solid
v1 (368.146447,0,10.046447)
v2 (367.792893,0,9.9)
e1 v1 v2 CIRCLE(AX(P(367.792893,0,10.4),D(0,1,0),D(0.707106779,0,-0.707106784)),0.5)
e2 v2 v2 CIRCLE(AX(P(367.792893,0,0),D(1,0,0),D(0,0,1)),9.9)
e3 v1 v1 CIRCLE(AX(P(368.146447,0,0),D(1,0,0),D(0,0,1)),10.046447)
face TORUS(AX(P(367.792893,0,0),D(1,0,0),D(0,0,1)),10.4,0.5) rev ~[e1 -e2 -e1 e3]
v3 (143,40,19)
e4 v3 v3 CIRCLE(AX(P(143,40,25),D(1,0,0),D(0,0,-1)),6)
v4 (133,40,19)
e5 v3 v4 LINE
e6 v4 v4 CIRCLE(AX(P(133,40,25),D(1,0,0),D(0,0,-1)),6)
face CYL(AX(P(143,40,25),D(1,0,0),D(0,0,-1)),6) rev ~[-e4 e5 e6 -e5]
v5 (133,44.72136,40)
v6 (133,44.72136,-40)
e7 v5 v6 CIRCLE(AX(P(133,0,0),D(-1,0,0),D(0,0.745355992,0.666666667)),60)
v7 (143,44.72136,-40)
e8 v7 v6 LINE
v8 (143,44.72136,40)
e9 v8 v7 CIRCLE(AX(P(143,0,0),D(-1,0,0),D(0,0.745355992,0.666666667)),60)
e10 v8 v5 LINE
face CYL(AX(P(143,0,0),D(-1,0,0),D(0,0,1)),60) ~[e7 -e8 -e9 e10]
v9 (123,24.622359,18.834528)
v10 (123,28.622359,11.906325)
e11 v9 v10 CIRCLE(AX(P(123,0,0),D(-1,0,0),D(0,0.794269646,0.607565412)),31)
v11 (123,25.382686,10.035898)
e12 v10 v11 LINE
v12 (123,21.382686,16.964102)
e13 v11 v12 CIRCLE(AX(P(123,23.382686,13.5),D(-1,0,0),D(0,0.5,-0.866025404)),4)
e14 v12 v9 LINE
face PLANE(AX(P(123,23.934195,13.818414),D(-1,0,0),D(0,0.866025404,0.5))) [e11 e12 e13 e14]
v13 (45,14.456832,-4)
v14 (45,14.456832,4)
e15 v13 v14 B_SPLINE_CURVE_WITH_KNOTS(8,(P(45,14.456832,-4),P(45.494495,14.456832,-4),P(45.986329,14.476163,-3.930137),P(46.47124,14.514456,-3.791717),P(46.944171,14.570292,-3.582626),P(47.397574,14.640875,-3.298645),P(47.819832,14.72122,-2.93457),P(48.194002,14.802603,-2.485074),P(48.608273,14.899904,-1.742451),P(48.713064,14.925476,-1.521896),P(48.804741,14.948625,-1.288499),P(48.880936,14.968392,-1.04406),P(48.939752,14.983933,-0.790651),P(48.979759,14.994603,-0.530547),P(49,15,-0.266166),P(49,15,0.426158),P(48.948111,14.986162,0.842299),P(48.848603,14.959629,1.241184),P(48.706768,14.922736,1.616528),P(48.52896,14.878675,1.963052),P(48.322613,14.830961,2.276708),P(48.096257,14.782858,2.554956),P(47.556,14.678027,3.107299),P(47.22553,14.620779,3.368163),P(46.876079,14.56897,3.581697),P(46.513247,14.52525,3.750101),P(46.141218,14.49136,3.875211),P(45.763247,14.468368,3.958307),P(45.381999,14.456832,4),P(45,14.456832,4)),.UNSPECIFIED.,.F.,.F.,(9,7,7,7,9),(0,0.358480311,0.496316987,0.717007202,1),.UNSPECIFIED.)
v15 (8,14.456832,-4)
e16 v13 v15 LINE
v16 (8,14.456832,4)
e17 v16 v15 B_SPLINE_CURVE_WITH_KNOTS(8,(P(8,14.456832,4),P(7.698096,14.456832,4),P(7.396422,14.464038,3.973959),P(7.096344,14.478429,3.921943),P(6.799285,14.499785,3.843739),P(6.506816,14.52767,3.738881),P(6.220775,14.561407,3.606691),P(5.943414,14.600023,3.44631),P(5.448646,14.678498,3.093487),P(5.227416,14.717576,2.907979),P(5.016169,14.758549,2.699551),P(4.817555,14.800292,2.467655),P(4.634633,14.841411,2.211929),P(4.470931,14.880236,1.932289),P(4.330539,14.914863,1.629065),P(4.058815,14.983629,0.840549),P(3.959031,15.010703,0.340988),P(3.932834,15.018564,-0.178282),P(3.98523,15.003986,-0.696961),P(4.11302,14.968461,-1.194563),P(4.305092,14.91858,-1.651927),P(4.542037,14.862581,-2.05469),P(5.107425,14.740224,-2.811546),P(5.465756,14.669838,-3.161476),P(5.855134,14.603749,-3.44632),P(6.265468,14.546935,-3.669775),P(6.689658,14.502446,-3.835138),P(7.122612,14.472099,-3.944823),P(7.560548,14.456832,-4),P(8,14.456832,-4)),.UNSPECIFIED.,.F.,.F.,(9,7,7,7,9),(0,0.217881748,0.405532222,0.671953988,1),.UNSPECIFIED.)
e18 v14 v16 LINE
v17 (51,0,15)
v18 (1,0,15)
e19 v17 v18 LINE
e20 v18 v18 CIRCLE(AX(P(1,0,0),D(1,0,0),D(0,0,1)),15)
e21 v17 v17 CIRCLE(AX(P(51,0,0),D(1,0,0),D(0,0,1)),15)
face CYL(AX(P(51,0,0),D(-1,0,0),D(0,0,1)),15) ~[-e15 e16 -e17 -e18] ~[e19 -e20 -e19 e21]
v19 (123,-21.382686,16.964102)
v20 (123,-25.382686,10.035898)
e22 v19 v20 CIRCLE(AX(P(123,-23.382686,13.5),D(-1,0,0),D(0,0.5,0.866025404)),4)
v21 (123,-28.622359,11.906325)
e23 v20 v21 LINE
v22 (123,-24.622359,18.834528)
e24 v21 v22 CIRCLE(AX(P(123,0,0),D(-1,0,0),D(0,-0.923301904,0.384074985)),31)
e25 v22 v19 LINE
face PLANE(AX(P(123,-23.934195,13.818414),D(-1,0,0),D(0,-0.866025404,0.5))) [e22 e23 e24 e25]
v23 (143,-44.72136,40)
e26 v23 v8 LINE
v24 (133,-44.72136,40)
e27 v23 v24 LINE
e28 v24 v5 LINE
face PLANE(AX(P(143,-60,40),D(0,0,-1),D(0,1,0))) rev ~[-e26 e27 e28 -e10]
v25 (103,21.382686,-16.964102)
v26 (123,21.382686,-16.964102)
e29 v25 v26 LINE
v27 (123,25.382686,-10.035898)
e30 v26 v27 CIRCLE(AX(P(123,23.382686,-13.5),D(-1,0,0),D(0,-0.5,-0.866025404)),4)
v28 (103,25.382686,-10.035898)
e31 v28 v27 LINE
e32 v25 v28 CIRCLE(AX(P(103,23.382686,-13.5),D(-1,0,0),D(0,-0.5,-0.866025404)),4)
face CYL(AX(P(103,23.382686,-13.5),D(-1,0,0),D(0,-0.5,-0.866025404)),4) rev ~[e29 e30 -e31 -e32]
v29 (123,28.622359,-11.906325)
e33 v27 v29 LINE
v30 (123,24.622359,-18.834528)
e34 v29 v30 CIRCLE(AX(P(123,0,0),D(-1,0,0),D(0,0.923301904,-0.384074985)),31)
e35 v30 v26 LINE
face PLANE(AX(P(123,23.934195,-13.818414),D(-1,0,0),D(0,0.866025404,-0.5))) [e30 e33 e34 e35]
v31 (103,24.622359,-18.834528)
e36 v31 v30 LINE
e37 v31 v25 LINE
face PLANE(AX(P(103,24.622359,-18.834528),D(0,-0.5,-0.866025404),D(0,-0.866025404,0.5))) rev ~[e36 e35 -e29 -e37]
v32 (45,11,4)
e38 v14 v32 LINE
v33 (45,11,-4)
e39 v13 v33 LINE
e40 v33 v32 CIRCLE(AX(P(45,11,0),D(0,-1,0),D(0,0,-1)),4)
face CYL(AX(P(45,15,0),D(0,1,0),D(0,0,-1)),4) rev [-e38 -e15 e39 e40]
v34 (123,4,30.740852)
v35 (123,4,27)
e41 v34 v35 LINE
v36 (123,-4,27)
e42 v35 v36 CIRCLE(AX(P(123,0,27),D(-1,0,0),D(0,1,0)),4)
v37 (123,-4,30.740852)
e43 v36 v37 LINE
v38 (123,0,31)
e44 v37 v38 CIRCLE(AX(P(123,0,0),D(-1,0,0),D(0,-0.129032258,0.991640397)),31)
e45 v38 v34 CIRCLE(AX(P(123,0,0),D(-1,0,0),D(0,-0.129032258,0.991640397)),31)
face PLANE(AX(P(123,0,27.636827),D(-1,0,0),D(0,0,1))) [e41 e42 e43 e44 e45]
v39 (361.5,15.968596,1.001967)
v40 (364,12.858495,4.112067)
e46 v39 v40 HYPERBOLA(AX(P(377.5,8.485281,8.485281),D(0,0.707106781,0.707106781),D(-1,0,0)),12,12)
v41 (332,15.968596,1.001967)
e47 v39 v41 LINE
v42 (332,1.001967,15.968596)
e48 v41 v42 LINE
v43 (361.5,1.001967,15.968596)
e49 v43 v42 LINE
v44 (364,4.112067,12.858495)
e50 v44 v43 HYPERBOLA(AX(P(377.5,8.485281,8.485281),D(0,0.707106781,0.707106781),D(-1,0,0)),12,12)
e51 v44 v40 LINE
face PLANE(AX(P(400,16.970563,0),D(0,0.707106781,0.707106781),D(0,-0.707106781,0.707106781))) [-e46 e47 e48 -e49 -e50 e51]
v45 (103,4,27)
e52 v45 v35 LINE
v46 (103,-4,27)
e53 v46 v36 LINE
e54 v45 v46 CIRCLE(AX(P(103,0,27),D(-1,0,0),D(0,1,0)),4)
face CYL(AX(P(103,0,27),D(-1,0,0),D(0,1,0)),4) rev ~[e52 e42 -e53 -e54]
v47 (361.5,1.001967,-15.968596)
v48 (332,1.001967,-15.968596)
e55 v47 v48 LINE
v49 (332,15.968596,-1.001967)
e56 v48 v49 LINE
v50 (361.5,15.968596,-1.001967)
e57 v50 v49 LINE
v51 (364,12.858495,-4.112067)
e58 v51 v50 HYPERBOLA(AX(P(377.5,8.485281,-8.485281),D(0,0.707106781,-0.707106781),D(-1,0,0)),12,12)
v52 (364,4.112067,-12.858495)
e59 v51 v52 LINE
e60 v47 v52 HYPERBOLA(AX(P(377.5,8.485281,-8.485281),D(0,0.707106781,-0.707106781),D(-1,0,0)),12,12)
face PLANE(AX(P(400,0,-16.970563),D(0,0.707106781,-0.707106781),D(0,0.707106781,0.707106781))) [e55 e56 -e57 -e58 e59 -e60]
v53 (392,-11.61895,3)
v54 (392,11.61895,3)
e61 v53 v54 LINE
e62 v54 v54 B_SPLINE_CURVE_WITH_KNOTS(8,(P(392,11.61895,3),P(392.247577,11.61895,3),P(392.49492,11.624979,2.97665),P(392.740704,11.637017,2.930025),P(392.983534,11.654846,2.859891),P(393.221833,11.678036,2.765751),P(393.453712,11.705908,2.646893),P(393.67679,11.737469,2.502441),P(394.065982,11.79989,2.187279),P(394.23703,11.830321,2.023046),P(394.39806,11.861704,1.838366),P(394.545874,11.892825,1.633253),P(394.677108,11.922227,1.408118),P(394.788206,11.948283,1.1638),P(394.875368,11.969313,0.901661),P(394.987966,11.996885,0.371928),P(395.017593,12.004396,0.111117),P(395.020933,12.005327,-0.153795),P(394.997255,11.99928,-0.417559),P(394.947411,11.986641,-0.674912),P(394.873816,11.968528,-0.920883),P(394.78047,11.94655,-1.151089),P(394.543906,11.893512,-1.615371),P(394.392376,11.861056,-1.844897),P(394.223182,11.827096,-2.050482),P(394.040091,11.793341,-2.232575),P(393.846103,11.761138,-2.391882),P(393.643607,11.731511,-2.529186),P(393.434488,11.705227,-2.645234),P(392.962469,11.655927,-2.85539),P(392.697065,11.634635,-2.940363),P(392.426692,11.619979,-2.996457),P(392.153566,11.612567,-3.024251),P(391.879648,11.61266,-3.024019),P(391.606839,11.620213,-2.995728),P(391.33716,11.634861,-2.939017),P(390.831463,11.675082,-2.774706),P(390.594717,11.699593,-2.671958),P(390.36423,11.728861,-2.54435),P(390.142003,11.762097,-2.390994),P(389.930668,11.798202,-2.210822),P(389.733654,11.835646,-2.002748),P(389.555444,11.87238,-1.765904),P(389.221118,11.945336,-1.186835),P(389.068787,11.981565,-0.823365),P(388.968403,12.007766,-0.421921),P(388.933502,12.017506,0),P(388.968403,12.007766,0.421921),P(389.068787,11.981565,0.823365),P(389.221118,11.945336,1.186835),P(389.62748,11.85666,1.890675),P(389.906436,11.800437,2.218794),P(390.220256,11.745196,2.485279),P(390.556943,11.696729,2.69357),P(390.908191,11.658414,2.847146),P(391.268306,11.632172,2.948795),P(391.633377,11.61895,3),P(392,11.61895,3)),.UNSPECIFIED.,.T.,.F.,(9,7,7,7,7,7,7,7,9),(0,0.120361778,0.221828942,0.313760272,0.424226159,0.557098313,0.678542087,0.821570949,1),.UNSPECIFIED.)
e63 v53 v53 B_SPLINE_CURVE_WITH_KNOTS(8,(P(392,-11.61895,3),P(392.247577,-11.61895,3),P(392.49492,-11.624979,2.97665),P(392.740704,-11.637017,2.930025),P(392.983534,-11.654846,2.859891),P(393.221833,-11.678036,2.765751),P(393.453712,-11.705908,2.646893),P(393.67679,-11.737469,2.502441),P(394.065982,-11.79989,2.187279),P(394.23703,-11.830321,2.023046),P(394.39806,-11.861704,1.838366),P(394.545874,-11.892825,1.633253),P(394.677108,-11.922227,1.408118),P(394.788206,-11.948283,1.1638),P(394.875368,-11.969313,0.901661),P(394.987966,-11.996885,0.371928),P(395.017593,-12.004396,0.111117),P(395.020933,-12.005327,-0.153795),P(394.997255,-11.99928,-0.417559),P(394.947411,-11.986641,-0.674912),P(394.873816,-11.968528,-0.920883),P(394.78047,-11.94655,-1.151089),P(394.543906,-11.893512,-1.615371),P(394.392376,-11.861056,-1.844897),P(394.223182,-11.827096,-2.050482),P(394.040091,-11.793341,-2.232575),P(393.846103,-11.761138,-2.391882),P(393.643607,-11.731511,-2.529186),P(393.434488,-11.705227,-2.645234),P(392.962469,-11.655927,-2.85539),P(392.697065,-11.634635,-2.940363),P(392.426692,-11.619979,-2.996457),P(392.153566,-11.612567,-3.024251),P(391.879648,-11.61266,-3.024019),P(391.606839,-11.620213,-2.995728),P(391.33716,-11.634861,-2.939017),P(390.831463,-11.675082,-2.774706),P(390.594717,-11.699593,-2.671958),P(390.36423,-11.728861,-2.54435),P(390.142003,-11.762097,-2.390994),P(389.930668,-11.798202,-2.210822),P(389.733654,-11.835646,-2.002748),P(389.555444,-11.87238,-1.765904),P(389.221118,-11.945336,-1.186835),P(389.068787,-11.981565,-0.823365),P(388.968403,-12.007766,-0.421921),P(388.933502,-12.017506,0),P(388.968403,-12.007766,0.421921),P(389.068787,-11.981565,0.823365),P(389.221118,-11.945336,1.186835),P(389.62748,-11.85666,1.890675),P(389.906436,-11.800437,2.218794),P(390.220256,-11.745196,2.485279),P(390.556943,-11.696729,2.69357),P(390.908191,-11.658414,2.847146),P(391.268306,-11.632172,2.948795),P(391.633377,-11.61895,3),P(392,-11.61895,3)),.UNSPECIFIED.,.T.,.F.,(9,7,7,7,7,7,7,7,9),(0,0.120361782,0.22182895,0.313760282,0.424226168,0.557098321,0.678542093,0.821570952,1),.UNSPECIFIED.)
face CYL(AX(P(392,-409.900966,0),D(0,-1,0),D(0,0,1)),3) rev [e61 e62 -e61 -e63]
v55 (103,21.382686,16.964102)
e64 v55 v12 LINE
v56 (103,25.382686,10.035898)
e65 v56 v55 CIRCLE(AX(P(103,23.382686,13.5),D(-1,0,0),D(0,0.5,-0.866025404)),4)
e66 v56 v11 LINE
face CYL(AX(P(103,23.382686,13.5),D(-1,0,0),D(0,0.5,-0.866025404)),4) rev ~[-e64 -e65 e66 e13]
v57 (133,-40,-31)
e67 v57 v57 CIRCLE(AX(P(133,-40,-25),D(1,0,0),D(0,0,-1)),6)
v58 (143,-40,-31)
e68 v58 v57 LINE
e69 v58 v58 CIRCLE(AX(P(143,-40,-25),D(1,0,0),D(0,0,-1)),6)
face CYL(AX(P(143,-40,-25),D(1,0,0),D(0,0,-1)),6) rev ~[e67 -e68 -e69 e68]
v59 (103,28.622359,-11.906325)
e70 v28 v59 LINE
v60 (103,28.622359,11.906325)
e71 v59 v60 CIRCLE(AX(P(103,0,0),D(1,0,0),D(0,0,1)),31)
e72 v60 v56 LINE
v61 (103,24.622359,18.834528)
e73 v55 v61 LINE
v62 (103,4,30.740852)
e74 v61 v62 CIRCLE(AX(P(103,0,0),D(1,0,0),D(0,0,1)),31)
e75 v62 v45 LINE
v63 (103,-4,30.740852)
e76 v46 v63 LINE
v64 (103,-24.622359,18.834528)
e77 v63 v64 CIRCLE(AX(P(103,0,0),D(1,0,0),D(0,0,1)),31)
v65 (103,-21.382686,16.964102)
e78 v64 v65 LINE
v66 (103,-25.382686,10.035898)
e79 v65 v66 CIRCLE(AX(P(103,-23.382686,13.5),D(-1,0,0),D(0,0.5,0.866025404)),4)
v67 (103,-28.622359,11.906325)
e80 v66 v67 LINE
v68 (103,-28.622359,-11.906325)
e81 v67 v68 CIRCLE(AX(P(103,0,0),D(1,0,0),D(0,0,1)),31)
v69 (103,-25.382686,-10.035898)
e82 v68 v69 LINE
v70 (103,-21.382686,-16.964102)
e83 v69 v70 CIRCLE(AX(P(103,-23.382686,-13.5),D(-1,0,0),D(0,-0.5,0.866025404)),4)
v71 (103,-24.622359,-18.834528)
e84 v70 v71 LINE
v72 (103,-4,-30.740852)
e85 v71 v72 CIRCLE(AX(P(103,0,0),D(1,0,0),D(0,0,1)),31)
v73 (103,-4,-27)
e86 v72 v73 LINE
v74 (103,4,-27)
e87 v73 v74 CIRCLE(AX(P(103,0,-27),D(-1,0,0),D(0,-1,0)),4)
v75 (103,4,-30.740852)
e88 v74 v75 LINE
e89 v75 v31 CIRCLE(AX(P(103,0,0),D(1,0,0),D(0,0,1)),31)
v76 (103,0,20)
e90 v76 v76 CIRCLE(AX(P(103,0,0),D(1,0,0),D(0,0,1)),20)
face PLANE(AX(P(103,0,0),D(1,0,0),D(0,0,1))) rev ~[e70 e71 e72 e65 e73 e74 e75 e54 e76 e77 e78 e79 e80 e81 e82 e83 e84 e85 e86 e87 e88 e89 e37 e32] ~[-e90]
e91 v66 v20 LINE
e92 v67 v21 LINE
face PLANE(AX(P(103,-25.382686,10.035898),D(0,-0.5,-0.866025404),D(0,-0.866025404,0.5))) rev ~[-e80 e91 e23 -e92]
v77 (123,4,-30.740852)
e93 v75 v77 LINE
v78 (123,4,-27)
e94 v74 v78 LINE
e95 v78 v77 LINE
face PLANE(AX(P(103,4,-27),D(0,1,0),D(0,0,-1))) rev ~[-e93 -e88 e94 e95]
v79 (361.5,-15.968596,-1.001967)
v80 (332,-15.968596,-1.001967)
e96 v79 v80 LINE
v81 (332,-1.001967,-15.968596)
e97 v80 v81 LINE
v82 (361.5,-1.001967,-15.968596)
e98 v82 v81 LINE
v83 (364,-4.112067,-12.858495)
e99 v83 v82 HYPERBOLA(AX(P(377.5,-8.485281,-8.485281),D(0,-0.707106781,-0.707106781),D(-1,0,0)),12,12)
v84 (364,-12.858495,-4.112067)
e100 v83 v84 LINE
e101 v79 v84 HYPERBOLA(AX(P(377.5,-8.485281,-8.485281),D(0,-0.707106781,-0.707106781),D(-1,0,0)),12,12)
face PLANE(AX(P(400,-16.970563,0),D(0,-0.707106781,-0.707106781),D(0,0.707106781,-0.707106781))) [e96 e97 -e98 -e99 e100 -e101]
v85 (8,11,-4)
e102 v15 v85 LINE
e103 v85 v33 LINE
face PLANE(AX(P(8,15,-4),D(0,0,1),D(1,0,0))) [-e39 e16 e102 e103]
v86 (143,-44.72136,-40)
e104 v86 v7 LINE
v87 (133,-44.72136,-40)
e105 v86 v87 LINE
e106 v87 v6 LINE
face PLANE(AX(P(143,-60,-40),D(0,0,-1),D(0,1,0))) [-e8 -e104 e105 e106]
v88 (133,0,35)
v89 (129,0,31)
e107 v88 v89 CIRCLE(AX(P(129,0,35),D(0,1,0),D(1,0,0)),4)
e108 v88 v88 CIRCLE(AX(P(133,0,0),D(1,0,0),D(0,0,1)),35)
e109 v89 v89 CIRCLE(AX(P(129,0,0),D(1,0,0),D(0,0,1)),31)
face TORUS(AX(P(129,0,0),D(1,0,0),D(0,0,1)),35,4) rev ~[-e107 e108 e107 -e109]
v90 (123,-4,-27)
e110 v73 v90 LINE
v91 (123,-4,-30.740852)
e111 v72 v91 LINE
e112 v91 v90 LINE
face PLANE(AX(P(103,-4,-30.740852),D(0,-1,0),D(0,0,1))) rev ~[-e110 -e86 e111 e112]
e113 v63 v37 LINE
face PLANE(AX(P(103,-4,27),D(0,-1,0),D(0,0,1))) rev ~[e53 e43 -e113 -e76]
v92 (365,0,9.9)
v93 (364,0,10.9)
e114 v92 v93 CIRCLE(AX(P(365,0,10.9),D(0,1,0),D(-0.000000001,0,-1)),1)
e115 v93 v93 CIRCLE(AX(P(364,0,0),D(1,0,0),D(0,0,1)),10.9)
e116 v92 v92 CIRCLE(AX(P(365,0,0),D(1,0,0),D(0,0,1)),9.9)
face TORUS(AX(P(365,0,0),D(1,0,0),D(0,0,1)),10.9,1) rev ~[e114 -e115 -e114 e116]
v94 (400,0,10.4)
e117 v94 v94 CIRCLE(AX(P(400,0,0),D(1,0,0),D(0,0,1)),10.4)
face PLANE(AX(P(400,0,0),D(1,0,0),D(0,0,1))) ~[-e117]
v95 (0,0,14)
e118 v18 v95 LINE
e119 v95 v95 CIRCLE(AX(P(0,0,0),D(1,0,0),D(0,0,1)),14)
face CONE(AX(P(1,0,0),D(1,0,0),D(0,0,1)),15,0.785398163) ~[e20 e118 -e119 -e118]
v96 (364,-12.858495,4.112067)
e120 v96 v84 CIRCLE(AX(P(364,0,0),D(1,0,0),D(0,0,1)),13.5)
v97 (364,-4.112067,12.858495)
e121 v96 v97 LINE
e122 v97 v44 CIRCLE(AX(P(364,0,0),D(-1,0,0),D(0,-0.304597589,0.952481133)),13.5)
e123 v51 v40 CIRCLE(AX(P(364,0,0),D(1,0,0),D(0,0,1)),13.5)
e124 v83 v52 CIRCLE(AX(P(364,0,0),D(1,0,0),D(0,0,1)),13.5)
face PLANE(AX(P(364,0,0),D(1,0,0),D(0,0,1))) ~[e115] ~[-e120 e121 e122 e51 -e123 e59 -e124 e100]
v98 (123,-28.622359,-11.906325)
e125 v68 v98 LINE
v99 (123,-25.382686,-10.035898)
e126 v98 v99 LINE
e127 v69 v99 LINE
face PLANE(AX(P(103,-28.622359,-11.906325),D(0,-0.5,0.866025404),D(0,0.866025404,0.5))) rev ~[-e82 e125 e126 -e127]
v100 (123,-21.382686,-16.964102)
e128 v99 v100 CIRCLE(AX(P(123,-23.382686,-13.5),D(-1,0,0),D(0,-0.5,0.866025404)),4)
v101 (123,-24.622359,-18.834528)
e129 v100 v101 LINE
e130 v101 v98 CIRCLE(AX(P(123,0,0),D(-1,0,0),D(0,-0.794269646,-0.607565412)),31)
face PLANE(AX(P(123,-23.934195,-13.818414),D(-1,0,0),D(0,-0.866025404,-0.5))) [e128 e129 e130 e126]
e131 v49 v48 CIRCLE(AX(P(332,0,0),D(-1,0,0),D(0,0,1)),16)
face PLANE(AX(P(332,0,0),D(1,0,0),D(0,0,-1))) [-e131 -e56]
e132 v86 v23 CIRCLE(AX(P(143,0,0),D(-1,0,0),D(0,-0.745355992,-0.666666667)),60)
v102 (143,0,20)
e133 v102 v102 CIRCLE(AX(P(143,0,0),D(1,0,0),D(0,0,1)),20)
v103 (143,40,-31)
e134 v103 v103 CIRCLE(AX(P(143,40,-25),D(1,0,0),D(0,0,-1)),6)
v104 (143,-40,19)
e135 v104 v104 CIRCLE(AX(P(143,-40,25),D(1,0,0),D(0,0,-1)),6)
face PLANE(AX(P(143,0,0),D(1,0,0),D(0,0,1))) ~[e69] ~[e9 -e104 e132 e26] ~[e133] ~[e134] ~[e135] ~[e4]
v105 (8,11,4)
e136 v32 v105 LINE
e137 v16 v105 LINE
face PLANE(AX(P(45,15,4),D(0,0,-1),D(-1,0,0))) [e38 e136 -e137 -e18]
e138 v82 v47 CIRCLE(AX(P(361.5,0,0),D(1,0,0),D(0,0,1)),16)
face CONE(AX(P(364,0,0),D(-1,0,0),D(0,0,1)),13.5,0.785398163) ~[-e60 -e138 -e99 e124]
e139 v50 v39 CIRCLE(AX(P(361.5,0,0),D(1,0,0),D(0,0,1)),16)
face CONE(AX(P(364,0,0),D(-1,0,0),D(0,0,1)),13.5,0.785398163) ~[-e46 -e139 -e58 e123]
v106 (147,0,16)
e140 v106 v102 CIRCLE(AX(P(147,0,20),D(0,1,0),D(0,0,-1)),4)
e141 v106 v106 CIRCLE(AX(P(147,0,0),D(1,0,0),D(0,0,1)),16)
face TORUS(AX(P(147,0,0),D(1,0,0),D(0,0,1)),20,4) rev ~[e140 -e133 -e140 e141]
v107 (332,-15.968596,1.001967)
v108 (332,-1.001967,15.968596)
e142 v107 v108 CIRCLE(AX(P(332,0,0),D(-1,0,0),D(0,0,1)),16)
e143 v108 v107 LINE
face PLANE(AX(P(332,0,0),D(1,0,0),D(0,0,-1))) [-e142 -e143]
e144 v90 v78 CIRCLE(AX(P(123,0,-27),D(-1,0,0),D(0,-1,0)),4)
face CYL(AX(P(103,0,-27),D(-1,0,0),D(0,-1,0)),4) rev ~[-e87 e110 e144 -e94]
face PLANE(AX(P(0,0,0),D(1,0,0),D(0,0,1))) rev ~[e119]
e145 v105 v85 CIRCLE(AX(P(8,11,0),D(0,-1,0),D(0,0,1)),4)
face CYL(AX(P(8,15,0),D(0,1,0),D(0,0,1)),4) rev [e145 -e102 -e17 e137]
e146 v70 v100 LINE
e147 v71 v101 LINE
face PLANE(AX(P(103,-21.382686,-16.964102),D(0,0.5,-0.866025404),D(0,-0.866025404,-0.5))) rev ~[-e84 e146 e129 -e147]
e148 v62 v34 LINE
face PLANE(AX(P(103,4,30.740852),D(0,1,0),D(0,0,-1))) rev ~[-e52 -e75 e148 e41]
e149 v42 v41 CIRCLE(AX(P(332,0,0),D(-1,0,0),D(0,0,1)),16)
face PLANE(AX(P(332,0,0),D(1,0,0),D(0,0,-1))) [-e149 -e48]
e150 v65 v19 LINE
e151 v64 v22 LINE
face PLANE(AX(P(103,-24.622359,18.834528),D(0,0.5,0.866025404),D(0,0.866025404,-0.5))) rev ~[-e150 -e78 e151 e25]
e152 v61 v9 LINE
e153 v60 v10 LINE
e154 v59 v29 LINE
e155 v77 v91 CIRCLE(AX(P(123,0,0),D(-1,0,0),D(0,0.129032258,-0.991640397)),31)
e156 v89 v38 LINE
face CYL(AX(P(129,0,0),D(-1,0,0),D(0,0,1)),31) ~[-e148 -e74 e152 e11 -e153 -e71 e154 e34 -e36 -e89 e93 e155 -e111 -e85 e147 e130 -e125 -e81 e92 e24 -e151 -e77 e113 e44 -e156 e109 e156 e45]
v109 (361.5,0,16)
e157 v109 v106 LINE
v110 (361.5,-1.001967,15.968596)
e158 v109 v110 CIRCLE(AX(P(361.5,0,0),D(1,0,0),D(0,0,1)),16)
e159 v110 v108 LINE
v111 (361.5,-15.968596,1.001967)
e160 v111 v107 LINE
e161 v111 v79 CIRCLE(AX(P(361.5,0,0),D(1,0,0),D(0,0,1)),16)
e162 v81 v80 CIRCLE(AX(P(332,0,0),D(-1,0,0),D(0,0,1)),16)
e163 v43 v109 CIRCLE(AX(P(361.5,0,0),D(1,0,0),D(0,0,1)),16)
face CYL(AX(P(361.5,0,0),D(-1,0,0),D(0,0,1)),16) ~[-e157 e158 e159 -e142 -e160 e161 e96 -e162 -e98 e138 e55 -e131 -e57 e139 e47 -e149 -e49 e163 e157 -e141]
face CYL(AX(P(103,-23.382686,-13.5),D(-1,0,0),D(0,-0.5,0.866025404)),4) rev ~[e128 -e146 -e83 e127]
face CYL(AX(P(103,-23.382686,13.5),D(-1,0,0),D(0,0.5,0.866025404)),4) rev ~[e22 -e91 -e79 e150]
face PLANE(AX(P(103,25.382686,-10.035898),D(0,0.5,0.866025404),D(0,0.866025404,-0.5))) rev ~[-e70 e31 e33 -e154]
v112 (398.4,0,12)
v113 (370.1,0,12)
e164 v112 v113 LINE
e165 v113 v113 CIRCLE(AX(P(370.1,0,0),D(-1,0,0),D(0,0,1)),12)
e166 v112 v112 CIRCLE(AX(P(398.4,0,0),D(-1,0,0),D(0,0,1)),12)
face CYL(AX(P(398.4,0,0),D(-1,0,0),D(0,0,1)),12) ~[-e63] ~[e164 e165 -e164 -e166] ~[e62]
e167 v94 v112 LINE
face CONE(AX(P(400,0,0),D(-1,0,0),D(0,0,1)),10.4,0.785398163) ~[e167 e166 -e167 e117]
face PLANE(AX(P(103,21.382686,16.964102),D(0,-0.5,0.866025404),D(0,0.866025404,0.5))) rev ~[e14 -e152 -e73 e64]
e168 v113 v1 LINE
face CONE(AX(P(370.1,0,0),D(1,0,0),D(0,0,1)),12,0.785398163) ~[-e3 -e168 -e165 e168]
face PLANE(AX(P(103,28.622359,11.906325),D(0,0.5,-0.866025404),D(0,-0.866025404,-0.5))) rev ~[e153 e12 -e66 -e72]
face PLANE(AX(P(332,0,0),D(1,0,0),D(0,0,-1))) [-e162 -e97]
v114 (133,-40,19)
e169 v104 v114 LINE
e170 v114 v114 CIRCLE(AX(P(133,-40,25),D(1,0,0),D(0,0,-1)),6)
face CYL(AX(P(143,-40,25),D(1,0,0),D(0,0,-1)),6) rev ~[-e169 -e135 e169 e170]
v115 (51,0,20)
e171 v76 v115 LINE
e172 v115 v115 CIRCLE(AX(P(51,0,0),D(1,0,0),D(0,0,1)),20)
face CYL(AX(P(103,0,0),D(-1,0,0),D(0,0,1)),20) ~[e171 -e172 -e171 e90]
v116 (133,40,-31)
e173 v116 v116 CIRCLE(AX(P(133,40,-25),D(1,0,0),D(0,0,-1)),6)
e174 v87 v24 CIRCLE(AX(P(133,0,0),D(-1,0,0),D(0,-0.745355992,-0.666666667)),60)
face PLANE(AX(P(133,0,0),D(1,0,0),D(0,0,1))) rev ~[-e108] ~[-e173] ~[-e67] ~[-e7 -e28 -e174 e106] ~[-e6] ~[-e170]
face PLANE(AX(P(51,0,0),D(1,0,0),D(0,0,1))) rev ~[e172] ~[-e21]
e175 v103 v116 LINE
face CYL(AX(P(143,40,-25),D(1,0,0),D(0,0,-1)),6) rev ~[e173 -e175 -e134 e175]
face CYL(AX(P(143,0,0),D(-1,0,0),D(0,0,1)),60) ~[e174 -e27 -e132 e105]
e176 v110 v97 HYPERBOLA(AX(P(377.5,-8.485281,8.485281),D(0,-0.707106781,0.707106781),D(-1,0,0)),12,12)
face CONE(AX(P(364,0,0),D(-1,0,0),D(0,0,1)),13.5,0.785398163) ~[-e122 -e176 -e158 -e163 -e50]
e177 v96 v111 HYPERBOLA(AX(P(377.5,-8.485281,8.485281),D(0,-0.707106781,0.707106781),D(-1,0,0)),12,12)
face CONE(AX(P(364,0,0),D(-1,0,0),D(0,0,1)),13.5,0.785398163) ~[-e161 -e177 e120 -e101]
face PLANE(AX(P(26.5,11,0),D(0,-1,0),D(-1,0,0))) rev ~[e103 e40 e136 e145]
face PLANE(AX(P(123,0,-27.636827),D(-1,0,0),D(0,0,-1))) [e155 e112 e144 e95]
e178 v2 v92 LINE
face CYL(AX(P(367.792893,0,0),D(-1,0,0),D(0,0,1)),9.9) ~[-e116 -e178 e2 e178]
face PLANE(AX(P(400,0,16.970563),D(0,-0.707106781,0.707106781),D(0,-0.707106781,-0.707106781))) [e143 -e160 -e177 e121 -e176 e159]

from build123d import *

# Parameters (mm, degrees)
SKETCH_2_OUTSIDE_W       = 208.902
SKETCH_2_OUTSIDE_H       = 208.902
CUT_EXTRUDE_1_DEPTH      = 68
CUT_EXTRUDE_2_DEPTH      = 4
CUT_EXTRUDE_4_DEPTH      = 409.900966005
CUT_EXTRUDE_4_DEPTH_BACK = 409.900966005
SKETCH_6_R               = 3
SKETCH_7_R               = 6
CUT_EXTRUDE_5_DEPTH      = 271.645524626
SKETCH_8_OUTSIDE_W       = 208.902
SKETCH_8_OUTSIDE_H       = 208.902
SKETCH_8_OUTSIDE_W_2     = 80
SKETCH_8_OUTSIDE_H_2     = 120
CUT_EXTRUDE_6_DEPTH      = 271.645524626
CUT_EXTRUDE_3_DEPTH      = 20
PATTERN_CIRCULAR_1_COUNT = 6


with BuildPart() as part:
    # Эскиз1 → Повернуть1 (revolve)
    with BuildSketch(Plane.XY, mode=Mode.PRIVATE) as revolve_1_sk:
        with BuildLine():
            Line((129, 31), (103, 31))
            Line((103, 31), (103, 20))
            Line((103, 20), (51, 20))
            Line((51, 20), (51, 15))
            Line((51, 15), (1, 15))
            Line((1, 15), (0, 14))
            Line((0, 14), (0, 0))
            Line((0, 0), (400, 0))
            Line((400, 0), (400, 10.4))
            Line((400, 10.4), (398.4, 12))
            Line((398.4, 12), (370.1, 12))
            Line((370.1, 12), (368.146446609, 10.046446609))
            ThreePointArc((368.146446609, 10.046446609), (367.984234935, 9.938060234), (367.792893219, 9.9))
            Line((367.792893219, 9.9), (365, 9.9))
            ThreePointArc((365, 9.9), (364.292893219, 10.192893219), (364, 10.9))
            Line((364, 10.9), (364, 13.5))
            Line((364, 13.5), (361.5, 16))
            Line((361.5, 16), (147, 16))
            ThreePointArc((147, 16), (144.171572875, 17.171572875), (143, 20))
            Line((143, 20), (143, 60))
            Line((143, 60), (133, 60))
            Line((133, 60), (133, 35))
            ThreePointArc((133, 35), (131.828427125, 32.171572875), (129, 31))
        make_face()
    revolve(revolve_1_sk.sketch.rotate(Axis((0, 0, 0), (1, 0, 0)), 90), axis=Axis((0, 0, 0), (1, 0, 0)))

    # Эскиз2 outside → Вырез-Вытянуть1 (cut)
    with BuildSketch(Plane(origin=(400, 0, 0), x_dir=(0, 0, -1), z_dir=(1, 0, 0))):
        Rectangle(SKETCH_2_OUTSIDE_W, SKETCH_2_OUTSIDE_H)
        Polygon((0, -16.970562748), (16.970562748, 0), (0, 16.970562748), (-16.970562748, 0), align=None, mode=Mode.SUBTRACT)
    extrude(amount=-CUT_EXTRUDE_1_DEPTH, mode=Mode.SUBTRACT)

    # Эскиз3 → Вырез-Вытянуть2 (cut)
    with BuildSketch(Plane(origin=(0, 15, 0), x_dir=(1, 0, 0), z_dir=(0, 1, 0))):
        with BuildLine():
            Line((8, 4), (45, 4))
            ThreePointArc((45, 4), (49, 0), (45, -4))
            Line((45, -4), (8, -4))
            ThreePointArc((8, -4), (4, 0), (8, 4))
        make_face()
    extrude(amount=-CUT_EXTRUDE_2_DEPTH, mode=Mode.SUBTRACT)

    # Эскиз6 → Вырез-Вытянуть4 (cut, two sides: drawn at the far end of the back side and taken through both)
    with BuildSketch(Plane(origin=(0, 0, 0), x_dir=(1, 0, 0), z_dir=(0, 1, 0)).offset(-CUT_EXTRUDE_4_DEPTH_BACK)):
        with Locations(Location((392, 0, 0), (0, 0, 270))):
            Circle(SKETCH_6_R)
    extrude(amount=CUT_EXTRUDE_4_DEPTH + CUT_EXTRUDE_4_DEPTH_BACK, mode=Mode.SUBTRACT)

    # Эскиз7 → Вырез-Вытянуть5 (cut, through all)
    with BuildSketch(Plane(origin=(143, 0, 0), x_dir=(0, 0, -1), z_dir=(1, 0, 0))):
        with Locations((-25, 40)):
            Circle(SKETCH_7_R)
        with Locations((-25, -40)):
            Circle(SKETCH_7_R)
        with Locations((25, -40)):
            Circle(SKETCH_7_R)
        with Locations((25, 40)):
            Circle(SKETCH_7_R)
    extrude(amount=-CUT_EXTRUDE_5_DEPTH, mode=Mode.SUBTRACT)

    # Эскиз8 outside → Вырез-Вытянуть6 (cut, through all)
    with BuildSketch(Plane(origin=(143, 0, 0), x_dir=(0, 0, -1), z_dir=(1, 0, 0))):
        Rectangle(SKETCH_8_OUTSIDE_W, SKETCH_8_OUTSIDE_H)
        Rectangle(SKETCH_8_OUTSIDE_W_2, SKETCH_8_OUTSIDE_H_2, mode=Mode.SUBTRACT)
    extrude(amount=-CUT_EXTRUDE_6_DEPTH, mode=Mode.SUBTRACT)

    # Эскиз4 → Вырез-Вытянуть3 (cut)
    with BuildSketch(Plane.ZY.offset(-103)):
        with BuildLine():
            Line((30.740852298, 4), (27, 4))
            ThreePointArc((27, 4), (23, 0), (27, -4))
            Line((27, -4), (30.740852298, -4))
            ThreePointArc((30.740852298, -4), (31, 0), (30.740852298, 4))
        make_face()
    cut_extrude_3 = extrude(amount=-CUT_EXTRUDE_3_DEPTH, mode=Mode.SUBTRACT)

    # Круговой массив1: Вырез-Вытянуть3 ×6 about axis
    pattern_circular_1_axis = Axis((0, 0, 0), (1, 0, 0))
    for i in range(1, PATTERN_CIRCULAR_1_COUNT):
        add(cut_extrude_3.rotate(pattern_circular_1_axis, i * 360 / PATTERN_CIRCULAR_1_COUNT), mode=Mode.SUBTRACT)


solid = part.part
